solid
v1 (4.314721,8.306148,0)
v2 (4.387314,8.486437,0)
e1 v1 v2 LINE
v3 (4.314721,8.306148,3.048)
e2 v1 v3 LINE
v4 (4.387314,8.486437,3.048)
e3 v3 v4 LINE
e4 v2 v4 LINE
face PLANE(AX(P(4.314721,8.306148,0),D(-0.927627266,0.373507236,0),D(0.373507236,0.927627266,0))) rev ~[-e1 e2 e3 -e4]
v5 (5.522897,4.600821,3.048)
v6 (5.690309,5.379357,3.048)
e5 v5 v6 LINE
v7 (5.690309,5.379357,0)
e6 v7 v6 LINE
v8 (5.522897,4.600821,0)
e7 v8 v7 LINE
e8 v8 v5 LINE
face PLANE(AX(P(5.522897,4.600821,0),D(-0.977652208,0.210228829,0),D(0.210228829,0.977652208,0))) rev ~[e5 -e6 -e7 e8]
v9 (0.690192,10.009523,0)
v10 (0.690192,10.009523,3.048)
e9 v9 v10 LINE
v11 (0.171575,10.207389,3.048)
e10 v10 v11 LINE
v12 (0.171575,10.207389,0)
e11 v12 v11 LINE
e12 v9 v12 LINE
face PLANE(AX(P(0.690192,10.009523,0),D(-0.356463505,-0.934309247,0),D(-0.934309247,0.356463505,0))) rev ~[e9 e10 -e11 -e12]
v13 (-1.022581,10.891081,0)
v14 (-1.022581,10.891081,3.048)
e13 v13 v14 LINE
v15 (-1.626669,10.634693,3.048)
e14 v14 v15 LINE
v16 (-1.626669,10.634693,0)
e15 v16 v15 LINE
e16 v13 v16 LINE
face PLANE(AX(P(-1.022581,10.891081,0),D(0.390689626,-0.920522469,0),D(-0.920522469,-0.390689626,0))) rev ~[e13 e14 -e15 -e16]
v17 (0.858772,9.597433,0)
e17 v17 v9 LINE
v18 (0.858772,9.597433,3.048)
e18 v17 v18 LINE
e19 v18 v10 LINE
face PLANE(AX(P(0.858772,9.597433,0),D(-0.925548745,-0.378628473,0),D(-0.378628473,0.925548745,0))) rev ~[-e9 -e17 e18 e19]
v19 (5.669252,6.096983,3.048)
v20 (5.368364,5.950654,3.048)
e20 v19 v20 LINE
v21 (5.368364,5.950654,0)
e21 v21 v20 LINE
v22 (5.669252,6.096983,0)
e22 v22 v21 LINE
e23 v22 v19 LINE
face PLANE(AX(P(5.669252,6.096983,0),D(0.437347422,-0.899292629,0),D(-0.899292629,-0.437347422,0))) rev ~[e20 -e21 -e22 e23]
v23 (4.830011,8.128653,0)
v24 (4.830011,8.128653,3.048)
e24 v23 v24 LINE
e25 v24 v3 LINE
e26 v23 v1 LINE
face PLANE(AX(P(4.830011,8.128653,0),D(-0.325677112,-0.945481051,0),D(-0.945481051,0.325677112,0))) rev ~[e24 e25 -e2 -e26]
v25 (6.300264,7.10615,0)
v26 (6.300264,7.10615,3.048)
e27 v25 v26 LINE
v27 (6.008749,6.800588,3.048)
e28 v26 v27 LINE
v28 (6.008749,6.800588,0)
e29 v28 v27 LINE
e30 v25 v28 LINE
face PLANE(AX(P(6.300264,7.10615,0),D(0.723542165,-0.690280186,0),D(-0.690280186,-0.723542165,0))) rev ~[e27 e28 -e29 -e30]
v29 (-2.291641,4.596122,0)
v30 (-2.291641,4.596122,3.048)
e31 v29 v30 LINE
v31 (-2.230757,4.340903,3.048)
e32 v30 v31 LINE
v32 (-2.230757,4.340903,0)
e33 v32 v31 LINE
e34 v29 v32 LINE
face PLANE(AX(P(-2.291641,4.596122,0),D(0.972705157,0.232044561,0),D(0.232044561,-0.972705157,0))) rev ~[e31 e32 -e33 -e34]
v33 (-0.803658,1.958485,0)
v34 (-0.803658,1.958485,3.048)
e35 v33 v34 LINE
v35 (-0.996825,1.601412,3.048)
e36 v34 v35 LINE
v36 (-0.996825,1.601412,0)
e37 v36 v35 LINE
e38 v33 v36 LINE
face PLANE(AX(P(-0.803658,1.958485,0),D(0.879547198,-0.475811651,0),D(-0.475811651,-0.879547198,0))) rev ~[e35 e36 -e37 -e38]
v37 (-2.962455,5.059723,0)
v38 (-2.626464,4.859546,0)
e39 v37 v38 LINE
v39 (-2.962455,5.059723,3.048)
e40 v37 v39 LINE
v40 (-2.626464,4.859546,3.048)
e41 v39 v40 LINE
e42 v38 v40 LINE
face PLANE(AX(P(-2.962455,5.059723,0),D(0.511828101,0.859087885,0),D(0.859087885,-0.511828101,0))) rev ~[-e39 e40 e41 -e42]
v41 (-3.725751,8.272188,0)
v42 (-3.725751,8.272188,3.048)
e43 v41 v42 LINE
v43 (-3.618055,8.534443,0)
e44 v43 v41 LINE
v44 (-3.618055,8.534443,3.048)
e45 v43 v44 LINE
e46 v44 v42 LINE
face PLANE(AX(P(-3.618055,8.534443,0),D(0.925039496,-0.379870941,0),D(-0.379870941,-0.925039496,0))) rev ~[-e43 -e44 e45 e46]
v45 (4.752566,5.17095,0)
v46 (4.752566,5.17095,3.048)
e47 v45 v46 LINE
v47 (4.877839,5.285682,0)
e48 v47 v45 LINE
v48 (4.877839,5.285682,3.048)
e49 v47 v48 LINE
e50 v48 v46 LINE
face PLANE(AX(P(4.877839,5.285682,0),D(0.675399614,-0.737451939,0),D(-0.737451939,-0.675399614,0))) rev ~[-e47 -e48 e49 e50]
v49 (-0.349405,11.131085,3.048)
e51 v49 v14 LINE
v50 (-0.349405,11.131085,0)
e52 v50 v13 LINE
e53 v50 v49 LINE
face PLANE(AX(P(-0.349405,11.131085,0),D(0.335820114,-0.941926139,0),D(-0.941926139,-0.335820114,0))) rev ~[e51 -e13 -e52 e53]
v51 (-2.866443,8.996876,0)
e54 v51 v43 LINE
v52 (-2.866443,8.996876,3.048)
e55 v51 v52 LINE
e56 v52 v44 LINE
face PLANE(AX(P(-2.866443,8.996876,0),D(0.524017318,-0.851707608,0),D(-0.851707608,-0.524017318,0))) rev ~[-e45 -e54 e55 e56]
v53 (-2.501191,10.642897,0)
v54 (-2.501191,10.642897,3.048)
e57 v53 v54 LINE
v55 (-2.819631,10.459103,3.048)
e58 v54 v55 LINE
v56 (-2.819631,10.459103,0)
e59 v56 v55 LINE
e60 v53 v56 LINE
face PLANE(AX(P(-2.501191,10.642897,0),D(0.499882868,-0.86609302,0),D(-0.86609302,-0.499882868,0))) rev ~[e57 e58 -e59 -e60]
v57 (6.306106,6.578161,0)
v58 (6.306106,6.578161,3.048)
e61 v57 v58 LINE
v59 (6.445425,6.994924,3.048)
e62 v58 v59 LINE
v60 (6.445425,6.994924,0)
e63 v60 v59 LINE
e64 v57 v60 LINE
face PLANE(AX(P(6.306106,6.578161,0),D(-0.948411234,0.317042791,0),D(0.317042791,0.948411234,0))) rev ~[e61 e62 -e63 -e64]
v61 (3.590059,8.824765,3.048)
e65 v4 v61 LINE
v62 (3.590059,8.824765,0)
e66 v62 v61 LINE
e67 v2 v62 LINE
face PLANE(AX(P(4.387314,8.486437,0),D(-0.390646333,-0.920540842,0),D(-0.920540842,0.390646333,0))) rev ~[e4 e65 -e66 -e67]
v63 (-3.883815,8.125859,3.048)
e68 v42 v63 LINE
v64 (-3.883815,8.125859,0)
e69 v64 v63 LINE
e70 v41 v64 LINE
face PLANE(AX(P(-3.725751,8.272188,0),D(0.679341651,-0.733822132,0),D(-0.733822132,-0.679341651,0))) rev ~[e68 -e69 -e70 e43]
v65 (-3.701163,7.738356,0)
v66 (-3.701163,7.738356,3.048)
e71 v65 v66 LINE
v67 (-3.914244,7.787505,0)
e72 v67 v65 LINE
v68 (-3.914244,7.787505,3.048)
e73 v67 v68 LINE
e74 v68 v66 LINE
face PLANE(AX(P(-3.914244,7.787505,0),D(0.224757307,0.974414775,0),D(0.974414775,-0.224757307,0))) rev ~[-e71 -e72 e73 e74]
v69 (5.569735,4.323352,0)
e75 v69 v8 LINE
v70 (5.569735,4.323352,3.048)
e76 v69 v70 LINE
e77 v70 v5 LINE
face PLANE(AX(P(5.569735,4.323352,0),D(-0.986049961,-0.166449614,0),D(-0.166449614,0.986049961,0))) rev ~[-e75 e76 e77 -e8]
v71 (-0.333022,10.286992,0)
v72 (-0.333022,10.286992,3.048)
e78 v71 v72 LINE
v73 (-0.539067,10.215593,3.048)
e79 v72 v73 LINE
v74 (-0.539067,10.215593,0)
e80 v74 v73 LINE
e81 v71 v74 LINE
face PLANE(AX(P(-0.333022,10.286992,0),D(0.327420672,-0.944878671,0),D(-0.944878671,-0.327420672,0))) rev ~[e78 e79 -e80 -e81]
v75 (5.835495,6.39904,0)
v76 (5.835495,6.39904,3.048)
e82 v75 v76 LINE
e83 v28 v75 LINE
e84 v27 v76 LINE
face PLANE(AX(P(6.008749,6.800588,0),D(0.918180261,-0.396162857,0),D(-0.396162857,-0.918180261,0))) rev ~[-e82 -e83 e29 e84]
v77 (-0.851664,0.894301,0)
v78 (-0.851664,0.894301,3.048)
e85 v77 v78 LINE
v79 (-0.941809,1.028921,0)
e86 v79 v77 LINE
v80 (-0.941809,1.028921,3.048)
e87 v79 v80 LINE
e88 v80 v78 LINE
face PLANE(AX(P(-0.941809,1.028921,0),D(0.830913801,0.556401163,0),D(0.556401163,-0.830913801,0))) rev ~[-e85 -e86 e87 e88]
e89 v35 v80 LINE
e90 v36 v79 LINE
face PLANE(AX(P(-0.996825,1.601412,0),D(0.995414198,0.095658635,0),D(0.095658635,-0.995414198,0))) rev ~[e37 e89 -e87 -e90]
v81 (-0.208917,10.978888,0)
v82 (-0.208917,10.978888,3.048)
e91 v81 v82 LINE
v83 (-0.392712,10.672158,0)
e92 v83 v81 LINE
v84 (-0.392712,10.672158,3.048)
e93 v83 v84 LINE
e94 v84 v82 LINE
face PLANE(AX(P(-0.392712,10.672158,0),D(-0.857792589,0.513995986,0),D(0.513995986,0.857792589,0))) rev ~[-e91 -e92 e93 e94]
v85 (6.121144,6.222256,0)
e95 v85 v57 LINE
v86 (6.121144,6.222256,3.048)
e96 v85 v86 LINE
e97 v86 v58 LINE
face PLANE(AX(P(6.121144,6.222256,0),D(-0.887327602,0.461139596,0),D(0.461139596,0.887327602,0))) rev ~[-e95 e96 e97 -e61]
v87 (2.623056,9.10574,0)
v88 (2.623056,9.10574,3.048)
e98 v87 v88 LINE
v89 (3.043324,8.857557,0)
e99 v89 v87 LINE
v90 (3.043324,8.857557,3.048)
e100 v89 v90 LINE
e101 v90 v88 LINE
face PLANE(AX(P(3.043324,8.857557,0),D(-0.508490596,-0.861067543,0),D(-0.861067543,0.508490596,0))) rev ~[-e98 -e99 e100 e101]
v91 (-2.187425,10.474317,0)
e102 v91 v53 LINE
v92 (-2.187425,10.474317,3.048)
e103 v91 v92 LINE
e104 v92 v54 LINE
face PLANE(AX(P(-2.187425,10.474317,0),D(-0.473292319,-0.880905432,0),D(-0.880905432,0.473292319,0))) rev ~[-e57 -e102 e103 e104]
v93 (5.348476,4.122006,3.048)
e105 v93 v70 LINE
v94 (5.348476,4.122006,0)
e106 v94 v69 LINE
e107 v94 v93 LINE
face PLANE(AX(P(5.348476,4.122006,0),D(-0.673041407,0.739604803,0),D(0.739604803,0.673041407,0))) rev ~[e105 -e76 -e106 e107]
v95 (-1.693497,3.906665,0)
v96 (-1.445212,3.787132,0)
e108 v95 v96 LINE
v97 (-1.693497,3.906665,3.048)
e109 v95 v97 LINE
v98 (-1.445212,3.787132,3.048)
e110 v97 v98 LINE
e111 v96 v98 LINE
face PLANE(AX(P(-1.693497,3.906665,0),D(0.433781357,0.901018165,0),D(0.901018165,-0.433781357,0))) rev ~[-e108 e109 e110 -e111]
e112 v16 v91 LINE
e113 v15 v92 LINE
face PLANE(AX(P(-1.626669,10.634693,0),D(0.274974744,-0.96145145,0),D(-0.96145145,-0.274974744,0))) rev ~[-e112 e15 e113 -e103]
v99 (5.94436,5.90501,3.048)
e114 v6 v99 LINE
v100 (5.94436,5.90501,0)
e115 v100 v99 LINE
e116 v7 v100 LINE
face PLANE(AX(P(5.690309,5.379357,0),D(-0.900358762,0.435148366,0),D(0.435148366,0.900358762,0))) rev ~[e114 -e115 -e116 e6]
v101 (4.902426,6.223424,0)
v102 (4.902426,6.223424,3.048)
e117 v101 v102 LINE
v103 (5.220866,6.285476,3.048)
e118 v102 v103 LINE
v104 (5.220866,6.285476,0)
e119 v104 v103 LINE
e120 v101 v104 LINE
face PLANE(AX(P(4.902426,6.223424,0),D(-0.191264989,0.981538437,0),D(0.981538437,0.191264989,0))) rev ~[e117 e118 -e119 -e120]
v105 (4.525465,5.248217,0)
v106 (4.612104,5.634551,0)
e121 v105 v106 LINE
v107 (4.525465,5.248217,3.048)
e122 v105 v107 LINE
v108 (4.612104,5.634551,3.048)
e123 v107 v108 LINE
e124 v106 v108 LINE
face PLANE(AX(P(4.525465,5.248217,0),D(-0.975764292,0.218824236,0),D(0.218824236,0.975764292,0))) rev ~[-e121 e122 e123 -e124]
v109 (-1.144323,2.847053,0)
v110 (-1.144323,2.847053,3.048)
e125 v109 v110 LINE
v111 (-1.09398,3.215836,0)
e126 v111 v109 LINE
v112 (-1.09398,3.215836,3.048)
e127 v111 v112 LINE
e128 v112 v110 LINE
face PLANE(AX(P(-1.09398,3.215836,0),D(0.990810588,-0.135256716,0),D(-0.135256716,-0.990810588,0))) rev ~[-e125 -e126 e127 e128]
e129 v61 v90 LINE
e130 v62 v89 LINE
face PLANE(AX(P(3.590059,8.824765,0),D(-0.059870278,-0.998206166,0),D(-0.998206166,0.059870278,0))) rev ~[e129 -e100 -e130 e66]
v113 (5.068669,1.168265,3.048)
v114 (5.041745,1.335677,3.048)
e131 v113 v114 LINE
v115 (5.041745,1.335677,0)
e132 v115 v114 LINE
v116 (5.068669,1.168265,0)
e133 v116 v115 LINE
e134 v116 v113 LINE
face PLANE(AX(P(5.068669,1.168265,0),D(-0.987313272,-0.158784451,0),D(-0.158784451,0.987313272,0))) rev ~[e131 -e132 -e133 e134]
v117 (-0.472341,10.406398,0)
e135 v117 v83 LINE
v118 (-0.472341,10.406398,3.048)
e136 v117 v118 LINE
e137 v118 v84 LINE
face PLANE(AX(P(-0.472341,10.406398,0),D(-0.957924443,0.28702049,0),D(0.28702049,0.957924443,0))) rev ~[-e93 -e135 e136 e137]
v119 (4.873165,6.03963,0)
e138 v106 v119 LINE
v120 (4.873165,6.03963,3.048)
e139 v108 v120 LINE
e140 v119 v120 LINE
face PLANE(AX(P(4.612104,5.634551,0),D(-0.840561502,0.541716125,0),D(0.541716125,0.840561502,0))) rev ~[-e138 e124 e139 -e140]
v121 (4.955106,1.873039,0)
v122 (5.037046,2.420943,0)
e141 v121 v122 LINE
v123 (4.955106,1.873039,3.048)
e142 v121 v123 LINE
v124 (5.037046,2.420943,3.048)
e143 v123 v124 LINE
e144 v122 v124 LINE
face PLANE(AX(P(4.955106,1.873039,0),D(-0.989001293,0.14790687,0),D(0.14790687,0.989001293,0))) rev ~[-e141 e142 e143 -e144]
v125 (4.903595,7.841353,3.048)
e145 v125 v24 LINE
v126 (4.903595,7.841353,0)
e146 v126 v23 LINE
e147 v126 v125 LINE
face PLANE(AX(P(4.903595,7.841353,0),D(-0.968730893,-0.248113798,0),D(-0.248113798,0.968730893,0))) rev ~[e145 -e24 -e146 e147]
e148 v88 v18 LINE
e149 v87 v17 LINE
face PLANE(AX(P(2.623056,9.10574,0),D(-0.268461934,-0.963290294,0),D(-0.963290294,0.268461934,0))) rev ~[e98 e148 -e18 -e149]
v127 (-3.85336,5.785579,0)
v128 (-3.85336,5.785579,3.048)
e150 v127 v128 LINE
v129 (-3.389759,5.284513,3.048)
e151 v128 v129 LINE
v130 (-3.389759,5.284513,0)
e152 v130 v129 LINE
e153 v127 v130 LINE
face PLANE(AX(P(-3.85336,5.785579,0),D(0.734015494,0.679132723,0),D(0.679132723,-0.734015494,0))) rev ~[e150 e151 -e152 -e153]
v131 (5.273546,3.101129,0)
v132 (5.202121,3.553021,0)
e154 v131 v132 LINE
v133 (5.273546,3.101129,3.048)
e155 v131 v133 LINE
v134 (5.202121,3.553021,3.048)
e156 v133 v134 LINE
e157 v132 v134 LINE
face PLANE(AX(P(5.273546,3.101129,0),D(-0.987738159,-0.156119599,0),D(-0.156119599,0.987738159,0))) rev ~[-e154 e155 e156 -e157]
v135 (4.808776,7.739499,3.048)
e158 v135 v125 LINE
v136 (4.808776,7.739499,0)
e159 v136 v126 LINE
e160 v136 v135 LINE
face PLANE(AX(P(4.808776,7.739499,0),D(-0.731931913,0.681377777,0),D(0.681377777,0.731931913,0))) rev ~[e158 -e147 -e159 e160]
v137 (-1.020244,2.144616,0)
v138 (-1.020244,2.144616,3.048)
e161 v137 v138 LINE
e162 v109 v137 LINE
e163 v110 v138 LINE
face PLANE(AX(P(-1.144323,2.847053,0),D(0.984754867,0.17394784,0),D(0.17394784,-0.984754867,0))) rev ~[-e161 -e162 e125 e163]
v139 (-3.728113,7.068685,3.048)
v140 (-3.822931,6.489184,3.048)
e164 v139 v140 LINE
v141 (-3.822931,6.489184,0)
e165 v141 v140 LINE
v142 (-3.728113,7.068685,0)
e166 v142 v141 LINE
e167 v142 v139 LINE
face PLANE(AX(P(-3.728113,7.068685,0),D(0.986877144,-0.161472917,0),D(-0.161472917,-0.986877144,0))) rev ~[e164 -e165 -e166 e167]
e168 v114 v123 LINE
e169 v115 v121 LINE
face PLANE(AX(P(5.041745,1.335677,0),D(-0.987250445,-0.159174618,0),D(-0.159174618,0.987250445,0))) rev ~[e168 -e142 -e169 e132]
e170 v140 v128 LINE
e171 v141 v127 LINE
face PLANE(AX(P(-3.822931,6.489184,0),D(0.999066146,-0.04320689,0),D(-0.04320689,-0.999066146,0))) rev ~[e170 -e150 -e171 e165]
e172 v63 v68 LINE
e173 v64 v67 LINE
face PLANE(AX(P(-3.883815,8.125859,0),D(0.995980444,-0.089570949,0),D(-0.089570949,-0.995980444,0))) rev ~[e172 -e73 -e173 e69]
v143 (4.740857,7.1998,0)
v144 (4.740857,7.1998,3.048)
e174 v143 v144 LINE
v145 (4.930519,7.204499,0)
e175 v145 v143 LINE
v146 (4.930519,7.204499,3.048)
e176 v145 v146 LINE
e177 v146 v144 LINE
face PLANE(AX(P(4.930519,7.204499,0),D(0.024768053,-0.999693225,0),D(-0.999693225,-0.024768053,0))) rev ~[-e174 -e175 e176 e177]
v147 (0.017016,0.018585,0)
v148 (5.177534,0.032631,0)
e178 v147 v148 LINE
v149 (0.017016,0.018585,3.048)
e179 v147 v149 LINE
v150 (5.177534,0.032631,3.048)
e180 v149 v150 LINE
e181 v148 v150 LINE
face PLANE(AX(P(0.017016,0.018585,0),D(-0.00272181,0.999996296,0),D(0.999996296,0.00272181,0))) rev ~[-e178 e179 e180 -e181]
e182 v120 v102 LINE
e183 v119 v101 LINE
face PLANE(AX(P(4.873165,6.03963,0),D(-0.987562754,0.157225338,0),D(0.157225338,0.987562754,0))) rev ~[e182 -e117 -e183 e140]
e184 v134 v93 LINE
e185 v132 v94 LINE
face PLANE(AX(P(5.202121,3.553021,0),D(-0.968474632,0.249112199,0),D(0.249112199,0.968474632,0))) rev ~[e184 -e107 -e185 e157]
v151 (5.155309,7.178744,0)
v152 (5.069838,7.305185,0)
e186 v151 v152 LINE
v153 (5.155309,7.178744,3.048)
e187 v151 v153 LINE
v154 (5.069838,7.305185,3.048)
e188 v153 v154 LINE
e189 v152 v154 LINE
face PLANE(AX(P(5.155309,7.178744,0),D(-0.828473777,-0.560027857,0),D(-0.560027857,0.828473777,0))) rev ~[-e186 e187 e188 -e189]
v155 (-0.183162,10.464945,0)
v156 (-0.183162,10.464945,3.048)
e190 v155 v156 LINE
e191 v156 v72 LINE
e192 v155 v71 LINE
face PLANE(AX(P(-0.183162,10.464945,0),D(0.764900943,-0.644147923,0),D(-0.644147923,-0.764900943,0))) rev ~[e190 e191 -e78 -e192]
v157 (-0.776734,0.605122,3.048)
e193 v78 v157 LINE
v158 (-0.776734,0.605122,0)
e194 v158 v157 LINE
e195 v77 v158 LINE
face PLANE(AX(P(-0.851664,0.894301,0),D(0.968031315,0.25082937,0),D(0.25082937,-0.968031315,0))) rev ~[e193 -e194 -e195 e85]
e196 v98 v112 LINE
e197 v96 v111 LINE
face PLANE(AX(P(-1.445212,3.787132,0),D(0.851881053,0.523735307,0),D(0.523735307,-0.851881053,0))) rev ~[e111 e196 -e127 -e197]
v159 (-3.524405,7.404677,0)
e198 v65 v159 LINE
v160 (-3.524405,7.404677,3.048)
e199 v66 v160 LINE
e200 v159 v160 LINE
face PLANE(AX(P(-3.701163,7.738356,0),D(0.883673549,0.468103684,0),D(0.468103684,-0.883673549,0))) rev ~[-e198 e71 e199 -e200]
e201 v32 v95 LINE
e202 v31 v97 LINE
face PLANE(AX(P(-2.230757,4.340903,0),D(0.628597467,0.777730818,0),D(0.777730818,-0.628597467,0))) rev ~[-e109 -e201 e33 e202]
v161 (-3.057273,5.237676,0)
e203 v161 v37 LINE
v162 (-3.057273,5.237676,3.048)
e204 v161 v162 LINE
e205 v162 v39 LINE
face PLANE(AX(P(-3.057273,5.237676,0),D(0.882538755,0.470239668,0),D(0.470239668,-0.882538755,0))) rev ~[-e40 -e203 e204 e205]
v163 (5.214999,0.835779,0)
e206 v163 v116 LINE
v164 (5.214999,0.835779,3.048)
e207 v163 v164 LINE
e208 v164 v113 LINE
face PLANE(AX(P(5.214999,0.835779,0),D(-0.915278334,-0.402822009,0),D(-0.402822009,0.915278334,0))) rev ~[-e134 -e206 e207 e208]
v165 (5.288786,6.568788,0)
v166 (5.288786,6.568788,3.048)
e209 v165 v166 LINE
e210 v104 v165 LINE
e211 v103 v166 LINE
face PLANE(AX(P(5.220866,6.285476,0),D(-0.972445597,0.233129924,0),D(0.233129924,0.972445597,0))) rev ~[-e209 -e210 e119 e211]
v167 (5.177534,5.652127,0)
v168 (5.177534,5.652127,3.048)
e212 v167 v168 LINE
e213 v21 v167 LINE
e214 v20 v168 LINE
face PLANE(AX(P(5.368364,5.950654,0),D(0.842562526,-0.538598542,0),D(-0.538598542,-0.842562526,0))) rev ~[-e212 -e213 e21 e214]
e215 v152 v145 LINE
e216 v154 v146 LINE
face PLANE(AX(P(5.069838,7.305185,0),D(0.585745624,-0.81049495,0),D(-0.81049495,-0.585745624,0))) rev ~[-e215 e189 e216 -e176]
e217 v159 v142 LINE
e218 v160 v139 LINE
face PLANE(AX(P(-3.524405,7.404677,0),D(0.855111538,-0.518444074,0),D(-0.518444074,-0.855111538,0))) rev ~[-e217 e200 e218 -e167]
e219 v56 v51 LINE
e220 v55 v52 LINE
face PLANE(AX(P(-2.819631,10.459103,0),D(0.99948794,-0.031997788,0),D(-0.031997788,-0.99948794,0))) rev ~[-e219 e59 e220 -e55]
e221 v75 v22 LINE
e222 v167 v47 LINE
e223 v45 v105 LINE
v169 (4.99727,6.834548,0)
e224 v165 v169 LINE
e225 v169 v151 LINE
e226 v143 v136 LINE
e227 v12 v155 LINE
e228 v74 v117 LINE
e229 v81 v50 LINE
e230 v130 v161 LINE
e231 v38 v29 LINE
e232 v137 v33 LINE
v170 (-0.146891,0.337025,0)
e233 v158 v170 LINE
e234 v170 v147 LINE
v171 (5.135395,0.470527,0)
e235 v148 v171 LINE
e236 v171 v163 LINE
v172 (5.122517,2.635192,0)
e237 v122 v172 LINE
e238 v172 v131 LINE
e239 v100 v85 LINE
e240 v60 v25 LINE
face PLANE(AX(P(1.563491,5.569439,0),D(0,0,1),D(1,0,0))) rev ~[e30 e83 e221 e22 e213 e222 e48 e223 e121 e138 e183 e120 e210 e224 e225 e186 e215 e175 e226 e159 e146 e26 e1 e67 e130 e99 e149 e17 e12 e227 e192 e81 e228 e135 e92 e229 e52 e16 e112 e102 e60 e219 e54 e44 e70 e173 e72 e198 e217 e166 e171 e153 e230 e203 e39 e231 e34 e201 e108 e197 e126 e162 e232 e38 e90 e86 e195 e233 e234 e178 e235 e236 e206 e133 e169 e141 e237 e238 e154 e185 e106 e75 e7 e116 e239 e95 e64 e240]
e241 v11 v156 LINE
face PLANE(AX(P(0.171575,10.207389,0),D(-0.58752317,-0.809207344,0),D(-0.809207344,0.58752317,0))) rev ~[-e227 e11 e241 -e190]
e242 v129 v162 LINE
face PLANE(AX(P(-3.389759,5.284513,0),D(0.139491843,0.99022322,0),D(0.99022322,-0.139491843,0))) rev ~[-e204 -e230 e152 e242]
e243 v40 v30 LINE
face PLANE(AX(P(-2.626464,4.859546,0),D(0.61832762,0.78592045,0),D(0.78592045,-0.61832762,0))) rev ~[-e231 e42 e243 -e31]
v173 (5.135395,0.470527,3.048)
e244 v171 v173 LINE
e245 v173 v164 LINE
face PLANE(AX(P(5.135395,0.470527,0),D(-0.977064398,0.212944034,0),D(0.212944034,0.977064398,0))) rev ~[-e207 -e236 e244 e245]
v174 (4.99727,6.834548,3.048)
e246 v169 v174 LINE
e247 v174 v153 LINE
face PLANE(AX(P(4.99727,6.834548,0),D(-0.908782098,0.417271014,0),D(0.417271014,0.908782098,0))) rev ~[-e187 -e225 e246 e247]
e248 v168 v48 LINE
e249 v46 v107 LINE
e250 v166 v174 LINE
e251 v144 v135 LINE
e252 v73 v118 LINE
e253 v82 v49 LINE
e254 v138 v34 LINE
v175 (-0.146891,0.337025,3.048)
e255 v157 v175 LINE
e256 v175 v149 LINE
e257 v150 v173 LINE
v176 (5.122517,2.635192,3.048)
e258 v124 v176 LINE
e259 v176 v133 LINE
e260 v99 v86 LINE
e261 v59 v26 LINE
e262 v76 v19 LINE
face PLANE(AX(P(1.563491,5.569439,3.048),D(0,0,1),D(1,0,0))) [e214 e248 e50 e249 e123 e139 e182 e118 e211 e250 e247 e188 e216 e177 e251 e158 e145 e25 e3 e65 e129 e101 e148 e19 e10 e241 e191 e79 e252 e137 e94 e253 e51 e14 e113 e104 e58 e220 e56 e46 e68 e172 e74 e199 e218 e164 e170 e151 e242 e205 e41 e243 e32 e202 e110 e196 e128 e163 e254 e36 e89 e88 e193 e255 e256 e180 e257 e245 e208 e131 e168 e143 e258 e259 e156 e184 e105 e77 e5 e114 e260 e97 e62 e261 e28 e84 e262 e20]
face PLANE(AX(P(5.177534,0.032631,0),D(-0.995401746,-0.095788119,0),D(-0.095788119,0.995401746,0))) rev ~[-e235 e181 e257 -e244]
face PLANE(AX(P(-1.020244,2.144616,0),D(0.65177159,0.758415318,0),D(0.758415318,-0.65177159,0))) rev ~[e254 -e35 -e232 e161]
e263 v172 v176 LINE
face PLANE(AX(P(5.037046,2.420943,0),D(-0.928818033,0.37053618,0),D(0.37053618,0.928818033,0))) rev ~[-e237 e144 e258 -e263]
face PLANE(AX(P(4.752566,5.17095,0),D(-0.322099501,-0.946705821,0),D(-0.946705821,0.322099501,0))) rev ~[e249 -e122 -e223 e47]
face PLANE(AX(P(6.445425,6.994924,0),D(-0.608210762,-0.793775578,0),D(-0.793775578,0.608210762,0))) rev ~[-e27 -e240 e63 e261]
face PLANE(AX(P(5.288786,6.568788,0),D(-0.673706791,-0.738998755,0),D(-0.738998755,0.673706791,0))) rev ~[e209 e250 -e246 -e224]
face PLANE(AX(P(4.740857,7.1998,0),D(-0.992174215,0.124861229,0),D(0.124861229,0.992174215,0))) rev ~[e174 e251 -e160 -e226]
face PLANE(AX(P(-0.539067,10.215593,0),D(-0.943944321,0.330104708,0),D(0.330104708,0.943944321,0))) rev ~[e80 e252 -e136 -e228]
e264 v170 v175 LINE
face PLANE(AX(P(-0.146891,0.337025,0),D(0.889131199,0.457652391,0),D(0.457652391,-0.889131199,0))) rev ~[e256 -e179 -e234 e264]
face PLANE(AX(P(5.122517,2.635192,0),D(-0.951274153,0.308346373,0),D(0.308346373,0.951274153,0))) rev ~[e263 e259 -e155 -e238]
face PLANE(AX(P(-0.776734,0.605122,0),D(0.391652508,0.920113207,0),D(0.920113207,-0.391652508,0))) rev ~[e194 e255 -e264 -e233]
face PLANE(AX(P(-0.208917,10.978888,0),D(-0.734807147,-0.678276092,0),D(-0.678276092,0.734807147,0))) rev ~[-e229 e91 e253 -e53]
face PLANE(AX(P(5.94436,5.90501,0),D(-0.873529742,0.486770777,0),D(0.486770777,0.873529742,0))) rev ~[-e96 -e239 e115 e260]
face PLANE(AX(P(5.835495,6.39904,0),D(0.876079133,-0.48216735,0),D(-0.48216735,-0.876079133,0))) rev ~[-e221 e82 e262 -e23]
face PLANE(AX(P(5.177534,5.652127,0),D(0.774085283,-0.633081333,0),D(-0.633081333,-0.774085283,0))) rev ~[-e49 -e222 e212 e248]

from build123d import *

# Parameters (mm, degrees)
F1_DEPTH = 3.048


with BuildPart() as f1:
    # F0 (on Top) → F1 (new body)
    with BuildSketch(Plane.XY):
        Polygon((-0.146891, 0.337025), (0.017016, 0.018585), (5.177534, 0.032631), (5.135395, 0.470527), (5.214999, 0.835779), (5.068669, 1.168265), (5.041745, 1.335677), (4.955106, 1.873039), (5.037046, 2.420943), (5.122517, 2.635192), (5.273546, 3.101129), (5.202121, 3.553021), (5.348476, 4.122006), (5.569735, 4.323352), (5.522897, 4.600821), (5.690309, 5.379357), (5.94436, 5.90501), (6.121144, 6.222256), (6.306106, 6.578161), (6.445425, 6.994924), (6.300264, 7.10615), (6.008749, 6.800588), (5.835495, 6.39904), (5.669252, 6.096983), (5.368364, 5.950654), (5.177534, 5.652127), (4.877839, 5.285682), (4.752566, 5.17095), (4.525465, 5.248217), (4.612104, 5.634551), (4.873165, 6.03963), (4.902426, 6.223424), (5.220866, 6.285476), (5.288786, 6.568788), (4.99727, 6.834548), (5.155309, 7.178744), (5.069838, 7.305185), (4.930519, 7.204499), (4.740857, 7.1998), (4.808776, 7.739499), (4.903595, 7.841353), (4.830011, 8.128653), (4.314721, 8.306148), (4.387314, 8.486437), (3.590059, 8.824765), (3.043324, 8.857557), (2.623056, 9.10574), (0.858772, 9.597433), (0.690192, 10.009523), (0.171575, 10.207389), (-0.183162, 10.464945), (-0.333022, 10.286992), (-0.539067, 10.215593), (-0.472341, 10.406398), (-0.392712, 10.672158), (-0.208917, 10.978888), (-0.349405, 11.131085), (-1.022581, 10.891081), (-1.626669, 10.634693), (-2.187425, 10.474317), (-2.501191, 10.642897), (-2.819631, 10.459103), (-2.866443, 8.996876), (-3.618055, 8.534443), (-3.725751, 8.272188), (-3.883815, 8.125859), (-3.914244, 7.787505), (-3.701163, 7.738356), (-3.524405, 7.404677), (-3.728113, 7.068685), (-3.822931, 6.489184), (-3.85336, 5.785579), (-3.389759, 5.284513), (-3.057273, 5.237676), (-2.962455, 5.059723), (-2.626464, 4.859546), (-2.291641, 4.596122), (-2.230757, 4.340903), (-1.693497, 3.906665), (-1.445212, 3.787132), (-1.09398, 3.215836), (-1.144323, 2.847053), (-1.020244, 2.144616), (-0.803658, 1.958485), (-0.996825, 1.601412), (-0.941809, 1.028921), (-0.851664, 0.894301), (-0.776734, 0.605122), align=None)
    extrude(amount=F1_DEPTH)


solid = f1.part
